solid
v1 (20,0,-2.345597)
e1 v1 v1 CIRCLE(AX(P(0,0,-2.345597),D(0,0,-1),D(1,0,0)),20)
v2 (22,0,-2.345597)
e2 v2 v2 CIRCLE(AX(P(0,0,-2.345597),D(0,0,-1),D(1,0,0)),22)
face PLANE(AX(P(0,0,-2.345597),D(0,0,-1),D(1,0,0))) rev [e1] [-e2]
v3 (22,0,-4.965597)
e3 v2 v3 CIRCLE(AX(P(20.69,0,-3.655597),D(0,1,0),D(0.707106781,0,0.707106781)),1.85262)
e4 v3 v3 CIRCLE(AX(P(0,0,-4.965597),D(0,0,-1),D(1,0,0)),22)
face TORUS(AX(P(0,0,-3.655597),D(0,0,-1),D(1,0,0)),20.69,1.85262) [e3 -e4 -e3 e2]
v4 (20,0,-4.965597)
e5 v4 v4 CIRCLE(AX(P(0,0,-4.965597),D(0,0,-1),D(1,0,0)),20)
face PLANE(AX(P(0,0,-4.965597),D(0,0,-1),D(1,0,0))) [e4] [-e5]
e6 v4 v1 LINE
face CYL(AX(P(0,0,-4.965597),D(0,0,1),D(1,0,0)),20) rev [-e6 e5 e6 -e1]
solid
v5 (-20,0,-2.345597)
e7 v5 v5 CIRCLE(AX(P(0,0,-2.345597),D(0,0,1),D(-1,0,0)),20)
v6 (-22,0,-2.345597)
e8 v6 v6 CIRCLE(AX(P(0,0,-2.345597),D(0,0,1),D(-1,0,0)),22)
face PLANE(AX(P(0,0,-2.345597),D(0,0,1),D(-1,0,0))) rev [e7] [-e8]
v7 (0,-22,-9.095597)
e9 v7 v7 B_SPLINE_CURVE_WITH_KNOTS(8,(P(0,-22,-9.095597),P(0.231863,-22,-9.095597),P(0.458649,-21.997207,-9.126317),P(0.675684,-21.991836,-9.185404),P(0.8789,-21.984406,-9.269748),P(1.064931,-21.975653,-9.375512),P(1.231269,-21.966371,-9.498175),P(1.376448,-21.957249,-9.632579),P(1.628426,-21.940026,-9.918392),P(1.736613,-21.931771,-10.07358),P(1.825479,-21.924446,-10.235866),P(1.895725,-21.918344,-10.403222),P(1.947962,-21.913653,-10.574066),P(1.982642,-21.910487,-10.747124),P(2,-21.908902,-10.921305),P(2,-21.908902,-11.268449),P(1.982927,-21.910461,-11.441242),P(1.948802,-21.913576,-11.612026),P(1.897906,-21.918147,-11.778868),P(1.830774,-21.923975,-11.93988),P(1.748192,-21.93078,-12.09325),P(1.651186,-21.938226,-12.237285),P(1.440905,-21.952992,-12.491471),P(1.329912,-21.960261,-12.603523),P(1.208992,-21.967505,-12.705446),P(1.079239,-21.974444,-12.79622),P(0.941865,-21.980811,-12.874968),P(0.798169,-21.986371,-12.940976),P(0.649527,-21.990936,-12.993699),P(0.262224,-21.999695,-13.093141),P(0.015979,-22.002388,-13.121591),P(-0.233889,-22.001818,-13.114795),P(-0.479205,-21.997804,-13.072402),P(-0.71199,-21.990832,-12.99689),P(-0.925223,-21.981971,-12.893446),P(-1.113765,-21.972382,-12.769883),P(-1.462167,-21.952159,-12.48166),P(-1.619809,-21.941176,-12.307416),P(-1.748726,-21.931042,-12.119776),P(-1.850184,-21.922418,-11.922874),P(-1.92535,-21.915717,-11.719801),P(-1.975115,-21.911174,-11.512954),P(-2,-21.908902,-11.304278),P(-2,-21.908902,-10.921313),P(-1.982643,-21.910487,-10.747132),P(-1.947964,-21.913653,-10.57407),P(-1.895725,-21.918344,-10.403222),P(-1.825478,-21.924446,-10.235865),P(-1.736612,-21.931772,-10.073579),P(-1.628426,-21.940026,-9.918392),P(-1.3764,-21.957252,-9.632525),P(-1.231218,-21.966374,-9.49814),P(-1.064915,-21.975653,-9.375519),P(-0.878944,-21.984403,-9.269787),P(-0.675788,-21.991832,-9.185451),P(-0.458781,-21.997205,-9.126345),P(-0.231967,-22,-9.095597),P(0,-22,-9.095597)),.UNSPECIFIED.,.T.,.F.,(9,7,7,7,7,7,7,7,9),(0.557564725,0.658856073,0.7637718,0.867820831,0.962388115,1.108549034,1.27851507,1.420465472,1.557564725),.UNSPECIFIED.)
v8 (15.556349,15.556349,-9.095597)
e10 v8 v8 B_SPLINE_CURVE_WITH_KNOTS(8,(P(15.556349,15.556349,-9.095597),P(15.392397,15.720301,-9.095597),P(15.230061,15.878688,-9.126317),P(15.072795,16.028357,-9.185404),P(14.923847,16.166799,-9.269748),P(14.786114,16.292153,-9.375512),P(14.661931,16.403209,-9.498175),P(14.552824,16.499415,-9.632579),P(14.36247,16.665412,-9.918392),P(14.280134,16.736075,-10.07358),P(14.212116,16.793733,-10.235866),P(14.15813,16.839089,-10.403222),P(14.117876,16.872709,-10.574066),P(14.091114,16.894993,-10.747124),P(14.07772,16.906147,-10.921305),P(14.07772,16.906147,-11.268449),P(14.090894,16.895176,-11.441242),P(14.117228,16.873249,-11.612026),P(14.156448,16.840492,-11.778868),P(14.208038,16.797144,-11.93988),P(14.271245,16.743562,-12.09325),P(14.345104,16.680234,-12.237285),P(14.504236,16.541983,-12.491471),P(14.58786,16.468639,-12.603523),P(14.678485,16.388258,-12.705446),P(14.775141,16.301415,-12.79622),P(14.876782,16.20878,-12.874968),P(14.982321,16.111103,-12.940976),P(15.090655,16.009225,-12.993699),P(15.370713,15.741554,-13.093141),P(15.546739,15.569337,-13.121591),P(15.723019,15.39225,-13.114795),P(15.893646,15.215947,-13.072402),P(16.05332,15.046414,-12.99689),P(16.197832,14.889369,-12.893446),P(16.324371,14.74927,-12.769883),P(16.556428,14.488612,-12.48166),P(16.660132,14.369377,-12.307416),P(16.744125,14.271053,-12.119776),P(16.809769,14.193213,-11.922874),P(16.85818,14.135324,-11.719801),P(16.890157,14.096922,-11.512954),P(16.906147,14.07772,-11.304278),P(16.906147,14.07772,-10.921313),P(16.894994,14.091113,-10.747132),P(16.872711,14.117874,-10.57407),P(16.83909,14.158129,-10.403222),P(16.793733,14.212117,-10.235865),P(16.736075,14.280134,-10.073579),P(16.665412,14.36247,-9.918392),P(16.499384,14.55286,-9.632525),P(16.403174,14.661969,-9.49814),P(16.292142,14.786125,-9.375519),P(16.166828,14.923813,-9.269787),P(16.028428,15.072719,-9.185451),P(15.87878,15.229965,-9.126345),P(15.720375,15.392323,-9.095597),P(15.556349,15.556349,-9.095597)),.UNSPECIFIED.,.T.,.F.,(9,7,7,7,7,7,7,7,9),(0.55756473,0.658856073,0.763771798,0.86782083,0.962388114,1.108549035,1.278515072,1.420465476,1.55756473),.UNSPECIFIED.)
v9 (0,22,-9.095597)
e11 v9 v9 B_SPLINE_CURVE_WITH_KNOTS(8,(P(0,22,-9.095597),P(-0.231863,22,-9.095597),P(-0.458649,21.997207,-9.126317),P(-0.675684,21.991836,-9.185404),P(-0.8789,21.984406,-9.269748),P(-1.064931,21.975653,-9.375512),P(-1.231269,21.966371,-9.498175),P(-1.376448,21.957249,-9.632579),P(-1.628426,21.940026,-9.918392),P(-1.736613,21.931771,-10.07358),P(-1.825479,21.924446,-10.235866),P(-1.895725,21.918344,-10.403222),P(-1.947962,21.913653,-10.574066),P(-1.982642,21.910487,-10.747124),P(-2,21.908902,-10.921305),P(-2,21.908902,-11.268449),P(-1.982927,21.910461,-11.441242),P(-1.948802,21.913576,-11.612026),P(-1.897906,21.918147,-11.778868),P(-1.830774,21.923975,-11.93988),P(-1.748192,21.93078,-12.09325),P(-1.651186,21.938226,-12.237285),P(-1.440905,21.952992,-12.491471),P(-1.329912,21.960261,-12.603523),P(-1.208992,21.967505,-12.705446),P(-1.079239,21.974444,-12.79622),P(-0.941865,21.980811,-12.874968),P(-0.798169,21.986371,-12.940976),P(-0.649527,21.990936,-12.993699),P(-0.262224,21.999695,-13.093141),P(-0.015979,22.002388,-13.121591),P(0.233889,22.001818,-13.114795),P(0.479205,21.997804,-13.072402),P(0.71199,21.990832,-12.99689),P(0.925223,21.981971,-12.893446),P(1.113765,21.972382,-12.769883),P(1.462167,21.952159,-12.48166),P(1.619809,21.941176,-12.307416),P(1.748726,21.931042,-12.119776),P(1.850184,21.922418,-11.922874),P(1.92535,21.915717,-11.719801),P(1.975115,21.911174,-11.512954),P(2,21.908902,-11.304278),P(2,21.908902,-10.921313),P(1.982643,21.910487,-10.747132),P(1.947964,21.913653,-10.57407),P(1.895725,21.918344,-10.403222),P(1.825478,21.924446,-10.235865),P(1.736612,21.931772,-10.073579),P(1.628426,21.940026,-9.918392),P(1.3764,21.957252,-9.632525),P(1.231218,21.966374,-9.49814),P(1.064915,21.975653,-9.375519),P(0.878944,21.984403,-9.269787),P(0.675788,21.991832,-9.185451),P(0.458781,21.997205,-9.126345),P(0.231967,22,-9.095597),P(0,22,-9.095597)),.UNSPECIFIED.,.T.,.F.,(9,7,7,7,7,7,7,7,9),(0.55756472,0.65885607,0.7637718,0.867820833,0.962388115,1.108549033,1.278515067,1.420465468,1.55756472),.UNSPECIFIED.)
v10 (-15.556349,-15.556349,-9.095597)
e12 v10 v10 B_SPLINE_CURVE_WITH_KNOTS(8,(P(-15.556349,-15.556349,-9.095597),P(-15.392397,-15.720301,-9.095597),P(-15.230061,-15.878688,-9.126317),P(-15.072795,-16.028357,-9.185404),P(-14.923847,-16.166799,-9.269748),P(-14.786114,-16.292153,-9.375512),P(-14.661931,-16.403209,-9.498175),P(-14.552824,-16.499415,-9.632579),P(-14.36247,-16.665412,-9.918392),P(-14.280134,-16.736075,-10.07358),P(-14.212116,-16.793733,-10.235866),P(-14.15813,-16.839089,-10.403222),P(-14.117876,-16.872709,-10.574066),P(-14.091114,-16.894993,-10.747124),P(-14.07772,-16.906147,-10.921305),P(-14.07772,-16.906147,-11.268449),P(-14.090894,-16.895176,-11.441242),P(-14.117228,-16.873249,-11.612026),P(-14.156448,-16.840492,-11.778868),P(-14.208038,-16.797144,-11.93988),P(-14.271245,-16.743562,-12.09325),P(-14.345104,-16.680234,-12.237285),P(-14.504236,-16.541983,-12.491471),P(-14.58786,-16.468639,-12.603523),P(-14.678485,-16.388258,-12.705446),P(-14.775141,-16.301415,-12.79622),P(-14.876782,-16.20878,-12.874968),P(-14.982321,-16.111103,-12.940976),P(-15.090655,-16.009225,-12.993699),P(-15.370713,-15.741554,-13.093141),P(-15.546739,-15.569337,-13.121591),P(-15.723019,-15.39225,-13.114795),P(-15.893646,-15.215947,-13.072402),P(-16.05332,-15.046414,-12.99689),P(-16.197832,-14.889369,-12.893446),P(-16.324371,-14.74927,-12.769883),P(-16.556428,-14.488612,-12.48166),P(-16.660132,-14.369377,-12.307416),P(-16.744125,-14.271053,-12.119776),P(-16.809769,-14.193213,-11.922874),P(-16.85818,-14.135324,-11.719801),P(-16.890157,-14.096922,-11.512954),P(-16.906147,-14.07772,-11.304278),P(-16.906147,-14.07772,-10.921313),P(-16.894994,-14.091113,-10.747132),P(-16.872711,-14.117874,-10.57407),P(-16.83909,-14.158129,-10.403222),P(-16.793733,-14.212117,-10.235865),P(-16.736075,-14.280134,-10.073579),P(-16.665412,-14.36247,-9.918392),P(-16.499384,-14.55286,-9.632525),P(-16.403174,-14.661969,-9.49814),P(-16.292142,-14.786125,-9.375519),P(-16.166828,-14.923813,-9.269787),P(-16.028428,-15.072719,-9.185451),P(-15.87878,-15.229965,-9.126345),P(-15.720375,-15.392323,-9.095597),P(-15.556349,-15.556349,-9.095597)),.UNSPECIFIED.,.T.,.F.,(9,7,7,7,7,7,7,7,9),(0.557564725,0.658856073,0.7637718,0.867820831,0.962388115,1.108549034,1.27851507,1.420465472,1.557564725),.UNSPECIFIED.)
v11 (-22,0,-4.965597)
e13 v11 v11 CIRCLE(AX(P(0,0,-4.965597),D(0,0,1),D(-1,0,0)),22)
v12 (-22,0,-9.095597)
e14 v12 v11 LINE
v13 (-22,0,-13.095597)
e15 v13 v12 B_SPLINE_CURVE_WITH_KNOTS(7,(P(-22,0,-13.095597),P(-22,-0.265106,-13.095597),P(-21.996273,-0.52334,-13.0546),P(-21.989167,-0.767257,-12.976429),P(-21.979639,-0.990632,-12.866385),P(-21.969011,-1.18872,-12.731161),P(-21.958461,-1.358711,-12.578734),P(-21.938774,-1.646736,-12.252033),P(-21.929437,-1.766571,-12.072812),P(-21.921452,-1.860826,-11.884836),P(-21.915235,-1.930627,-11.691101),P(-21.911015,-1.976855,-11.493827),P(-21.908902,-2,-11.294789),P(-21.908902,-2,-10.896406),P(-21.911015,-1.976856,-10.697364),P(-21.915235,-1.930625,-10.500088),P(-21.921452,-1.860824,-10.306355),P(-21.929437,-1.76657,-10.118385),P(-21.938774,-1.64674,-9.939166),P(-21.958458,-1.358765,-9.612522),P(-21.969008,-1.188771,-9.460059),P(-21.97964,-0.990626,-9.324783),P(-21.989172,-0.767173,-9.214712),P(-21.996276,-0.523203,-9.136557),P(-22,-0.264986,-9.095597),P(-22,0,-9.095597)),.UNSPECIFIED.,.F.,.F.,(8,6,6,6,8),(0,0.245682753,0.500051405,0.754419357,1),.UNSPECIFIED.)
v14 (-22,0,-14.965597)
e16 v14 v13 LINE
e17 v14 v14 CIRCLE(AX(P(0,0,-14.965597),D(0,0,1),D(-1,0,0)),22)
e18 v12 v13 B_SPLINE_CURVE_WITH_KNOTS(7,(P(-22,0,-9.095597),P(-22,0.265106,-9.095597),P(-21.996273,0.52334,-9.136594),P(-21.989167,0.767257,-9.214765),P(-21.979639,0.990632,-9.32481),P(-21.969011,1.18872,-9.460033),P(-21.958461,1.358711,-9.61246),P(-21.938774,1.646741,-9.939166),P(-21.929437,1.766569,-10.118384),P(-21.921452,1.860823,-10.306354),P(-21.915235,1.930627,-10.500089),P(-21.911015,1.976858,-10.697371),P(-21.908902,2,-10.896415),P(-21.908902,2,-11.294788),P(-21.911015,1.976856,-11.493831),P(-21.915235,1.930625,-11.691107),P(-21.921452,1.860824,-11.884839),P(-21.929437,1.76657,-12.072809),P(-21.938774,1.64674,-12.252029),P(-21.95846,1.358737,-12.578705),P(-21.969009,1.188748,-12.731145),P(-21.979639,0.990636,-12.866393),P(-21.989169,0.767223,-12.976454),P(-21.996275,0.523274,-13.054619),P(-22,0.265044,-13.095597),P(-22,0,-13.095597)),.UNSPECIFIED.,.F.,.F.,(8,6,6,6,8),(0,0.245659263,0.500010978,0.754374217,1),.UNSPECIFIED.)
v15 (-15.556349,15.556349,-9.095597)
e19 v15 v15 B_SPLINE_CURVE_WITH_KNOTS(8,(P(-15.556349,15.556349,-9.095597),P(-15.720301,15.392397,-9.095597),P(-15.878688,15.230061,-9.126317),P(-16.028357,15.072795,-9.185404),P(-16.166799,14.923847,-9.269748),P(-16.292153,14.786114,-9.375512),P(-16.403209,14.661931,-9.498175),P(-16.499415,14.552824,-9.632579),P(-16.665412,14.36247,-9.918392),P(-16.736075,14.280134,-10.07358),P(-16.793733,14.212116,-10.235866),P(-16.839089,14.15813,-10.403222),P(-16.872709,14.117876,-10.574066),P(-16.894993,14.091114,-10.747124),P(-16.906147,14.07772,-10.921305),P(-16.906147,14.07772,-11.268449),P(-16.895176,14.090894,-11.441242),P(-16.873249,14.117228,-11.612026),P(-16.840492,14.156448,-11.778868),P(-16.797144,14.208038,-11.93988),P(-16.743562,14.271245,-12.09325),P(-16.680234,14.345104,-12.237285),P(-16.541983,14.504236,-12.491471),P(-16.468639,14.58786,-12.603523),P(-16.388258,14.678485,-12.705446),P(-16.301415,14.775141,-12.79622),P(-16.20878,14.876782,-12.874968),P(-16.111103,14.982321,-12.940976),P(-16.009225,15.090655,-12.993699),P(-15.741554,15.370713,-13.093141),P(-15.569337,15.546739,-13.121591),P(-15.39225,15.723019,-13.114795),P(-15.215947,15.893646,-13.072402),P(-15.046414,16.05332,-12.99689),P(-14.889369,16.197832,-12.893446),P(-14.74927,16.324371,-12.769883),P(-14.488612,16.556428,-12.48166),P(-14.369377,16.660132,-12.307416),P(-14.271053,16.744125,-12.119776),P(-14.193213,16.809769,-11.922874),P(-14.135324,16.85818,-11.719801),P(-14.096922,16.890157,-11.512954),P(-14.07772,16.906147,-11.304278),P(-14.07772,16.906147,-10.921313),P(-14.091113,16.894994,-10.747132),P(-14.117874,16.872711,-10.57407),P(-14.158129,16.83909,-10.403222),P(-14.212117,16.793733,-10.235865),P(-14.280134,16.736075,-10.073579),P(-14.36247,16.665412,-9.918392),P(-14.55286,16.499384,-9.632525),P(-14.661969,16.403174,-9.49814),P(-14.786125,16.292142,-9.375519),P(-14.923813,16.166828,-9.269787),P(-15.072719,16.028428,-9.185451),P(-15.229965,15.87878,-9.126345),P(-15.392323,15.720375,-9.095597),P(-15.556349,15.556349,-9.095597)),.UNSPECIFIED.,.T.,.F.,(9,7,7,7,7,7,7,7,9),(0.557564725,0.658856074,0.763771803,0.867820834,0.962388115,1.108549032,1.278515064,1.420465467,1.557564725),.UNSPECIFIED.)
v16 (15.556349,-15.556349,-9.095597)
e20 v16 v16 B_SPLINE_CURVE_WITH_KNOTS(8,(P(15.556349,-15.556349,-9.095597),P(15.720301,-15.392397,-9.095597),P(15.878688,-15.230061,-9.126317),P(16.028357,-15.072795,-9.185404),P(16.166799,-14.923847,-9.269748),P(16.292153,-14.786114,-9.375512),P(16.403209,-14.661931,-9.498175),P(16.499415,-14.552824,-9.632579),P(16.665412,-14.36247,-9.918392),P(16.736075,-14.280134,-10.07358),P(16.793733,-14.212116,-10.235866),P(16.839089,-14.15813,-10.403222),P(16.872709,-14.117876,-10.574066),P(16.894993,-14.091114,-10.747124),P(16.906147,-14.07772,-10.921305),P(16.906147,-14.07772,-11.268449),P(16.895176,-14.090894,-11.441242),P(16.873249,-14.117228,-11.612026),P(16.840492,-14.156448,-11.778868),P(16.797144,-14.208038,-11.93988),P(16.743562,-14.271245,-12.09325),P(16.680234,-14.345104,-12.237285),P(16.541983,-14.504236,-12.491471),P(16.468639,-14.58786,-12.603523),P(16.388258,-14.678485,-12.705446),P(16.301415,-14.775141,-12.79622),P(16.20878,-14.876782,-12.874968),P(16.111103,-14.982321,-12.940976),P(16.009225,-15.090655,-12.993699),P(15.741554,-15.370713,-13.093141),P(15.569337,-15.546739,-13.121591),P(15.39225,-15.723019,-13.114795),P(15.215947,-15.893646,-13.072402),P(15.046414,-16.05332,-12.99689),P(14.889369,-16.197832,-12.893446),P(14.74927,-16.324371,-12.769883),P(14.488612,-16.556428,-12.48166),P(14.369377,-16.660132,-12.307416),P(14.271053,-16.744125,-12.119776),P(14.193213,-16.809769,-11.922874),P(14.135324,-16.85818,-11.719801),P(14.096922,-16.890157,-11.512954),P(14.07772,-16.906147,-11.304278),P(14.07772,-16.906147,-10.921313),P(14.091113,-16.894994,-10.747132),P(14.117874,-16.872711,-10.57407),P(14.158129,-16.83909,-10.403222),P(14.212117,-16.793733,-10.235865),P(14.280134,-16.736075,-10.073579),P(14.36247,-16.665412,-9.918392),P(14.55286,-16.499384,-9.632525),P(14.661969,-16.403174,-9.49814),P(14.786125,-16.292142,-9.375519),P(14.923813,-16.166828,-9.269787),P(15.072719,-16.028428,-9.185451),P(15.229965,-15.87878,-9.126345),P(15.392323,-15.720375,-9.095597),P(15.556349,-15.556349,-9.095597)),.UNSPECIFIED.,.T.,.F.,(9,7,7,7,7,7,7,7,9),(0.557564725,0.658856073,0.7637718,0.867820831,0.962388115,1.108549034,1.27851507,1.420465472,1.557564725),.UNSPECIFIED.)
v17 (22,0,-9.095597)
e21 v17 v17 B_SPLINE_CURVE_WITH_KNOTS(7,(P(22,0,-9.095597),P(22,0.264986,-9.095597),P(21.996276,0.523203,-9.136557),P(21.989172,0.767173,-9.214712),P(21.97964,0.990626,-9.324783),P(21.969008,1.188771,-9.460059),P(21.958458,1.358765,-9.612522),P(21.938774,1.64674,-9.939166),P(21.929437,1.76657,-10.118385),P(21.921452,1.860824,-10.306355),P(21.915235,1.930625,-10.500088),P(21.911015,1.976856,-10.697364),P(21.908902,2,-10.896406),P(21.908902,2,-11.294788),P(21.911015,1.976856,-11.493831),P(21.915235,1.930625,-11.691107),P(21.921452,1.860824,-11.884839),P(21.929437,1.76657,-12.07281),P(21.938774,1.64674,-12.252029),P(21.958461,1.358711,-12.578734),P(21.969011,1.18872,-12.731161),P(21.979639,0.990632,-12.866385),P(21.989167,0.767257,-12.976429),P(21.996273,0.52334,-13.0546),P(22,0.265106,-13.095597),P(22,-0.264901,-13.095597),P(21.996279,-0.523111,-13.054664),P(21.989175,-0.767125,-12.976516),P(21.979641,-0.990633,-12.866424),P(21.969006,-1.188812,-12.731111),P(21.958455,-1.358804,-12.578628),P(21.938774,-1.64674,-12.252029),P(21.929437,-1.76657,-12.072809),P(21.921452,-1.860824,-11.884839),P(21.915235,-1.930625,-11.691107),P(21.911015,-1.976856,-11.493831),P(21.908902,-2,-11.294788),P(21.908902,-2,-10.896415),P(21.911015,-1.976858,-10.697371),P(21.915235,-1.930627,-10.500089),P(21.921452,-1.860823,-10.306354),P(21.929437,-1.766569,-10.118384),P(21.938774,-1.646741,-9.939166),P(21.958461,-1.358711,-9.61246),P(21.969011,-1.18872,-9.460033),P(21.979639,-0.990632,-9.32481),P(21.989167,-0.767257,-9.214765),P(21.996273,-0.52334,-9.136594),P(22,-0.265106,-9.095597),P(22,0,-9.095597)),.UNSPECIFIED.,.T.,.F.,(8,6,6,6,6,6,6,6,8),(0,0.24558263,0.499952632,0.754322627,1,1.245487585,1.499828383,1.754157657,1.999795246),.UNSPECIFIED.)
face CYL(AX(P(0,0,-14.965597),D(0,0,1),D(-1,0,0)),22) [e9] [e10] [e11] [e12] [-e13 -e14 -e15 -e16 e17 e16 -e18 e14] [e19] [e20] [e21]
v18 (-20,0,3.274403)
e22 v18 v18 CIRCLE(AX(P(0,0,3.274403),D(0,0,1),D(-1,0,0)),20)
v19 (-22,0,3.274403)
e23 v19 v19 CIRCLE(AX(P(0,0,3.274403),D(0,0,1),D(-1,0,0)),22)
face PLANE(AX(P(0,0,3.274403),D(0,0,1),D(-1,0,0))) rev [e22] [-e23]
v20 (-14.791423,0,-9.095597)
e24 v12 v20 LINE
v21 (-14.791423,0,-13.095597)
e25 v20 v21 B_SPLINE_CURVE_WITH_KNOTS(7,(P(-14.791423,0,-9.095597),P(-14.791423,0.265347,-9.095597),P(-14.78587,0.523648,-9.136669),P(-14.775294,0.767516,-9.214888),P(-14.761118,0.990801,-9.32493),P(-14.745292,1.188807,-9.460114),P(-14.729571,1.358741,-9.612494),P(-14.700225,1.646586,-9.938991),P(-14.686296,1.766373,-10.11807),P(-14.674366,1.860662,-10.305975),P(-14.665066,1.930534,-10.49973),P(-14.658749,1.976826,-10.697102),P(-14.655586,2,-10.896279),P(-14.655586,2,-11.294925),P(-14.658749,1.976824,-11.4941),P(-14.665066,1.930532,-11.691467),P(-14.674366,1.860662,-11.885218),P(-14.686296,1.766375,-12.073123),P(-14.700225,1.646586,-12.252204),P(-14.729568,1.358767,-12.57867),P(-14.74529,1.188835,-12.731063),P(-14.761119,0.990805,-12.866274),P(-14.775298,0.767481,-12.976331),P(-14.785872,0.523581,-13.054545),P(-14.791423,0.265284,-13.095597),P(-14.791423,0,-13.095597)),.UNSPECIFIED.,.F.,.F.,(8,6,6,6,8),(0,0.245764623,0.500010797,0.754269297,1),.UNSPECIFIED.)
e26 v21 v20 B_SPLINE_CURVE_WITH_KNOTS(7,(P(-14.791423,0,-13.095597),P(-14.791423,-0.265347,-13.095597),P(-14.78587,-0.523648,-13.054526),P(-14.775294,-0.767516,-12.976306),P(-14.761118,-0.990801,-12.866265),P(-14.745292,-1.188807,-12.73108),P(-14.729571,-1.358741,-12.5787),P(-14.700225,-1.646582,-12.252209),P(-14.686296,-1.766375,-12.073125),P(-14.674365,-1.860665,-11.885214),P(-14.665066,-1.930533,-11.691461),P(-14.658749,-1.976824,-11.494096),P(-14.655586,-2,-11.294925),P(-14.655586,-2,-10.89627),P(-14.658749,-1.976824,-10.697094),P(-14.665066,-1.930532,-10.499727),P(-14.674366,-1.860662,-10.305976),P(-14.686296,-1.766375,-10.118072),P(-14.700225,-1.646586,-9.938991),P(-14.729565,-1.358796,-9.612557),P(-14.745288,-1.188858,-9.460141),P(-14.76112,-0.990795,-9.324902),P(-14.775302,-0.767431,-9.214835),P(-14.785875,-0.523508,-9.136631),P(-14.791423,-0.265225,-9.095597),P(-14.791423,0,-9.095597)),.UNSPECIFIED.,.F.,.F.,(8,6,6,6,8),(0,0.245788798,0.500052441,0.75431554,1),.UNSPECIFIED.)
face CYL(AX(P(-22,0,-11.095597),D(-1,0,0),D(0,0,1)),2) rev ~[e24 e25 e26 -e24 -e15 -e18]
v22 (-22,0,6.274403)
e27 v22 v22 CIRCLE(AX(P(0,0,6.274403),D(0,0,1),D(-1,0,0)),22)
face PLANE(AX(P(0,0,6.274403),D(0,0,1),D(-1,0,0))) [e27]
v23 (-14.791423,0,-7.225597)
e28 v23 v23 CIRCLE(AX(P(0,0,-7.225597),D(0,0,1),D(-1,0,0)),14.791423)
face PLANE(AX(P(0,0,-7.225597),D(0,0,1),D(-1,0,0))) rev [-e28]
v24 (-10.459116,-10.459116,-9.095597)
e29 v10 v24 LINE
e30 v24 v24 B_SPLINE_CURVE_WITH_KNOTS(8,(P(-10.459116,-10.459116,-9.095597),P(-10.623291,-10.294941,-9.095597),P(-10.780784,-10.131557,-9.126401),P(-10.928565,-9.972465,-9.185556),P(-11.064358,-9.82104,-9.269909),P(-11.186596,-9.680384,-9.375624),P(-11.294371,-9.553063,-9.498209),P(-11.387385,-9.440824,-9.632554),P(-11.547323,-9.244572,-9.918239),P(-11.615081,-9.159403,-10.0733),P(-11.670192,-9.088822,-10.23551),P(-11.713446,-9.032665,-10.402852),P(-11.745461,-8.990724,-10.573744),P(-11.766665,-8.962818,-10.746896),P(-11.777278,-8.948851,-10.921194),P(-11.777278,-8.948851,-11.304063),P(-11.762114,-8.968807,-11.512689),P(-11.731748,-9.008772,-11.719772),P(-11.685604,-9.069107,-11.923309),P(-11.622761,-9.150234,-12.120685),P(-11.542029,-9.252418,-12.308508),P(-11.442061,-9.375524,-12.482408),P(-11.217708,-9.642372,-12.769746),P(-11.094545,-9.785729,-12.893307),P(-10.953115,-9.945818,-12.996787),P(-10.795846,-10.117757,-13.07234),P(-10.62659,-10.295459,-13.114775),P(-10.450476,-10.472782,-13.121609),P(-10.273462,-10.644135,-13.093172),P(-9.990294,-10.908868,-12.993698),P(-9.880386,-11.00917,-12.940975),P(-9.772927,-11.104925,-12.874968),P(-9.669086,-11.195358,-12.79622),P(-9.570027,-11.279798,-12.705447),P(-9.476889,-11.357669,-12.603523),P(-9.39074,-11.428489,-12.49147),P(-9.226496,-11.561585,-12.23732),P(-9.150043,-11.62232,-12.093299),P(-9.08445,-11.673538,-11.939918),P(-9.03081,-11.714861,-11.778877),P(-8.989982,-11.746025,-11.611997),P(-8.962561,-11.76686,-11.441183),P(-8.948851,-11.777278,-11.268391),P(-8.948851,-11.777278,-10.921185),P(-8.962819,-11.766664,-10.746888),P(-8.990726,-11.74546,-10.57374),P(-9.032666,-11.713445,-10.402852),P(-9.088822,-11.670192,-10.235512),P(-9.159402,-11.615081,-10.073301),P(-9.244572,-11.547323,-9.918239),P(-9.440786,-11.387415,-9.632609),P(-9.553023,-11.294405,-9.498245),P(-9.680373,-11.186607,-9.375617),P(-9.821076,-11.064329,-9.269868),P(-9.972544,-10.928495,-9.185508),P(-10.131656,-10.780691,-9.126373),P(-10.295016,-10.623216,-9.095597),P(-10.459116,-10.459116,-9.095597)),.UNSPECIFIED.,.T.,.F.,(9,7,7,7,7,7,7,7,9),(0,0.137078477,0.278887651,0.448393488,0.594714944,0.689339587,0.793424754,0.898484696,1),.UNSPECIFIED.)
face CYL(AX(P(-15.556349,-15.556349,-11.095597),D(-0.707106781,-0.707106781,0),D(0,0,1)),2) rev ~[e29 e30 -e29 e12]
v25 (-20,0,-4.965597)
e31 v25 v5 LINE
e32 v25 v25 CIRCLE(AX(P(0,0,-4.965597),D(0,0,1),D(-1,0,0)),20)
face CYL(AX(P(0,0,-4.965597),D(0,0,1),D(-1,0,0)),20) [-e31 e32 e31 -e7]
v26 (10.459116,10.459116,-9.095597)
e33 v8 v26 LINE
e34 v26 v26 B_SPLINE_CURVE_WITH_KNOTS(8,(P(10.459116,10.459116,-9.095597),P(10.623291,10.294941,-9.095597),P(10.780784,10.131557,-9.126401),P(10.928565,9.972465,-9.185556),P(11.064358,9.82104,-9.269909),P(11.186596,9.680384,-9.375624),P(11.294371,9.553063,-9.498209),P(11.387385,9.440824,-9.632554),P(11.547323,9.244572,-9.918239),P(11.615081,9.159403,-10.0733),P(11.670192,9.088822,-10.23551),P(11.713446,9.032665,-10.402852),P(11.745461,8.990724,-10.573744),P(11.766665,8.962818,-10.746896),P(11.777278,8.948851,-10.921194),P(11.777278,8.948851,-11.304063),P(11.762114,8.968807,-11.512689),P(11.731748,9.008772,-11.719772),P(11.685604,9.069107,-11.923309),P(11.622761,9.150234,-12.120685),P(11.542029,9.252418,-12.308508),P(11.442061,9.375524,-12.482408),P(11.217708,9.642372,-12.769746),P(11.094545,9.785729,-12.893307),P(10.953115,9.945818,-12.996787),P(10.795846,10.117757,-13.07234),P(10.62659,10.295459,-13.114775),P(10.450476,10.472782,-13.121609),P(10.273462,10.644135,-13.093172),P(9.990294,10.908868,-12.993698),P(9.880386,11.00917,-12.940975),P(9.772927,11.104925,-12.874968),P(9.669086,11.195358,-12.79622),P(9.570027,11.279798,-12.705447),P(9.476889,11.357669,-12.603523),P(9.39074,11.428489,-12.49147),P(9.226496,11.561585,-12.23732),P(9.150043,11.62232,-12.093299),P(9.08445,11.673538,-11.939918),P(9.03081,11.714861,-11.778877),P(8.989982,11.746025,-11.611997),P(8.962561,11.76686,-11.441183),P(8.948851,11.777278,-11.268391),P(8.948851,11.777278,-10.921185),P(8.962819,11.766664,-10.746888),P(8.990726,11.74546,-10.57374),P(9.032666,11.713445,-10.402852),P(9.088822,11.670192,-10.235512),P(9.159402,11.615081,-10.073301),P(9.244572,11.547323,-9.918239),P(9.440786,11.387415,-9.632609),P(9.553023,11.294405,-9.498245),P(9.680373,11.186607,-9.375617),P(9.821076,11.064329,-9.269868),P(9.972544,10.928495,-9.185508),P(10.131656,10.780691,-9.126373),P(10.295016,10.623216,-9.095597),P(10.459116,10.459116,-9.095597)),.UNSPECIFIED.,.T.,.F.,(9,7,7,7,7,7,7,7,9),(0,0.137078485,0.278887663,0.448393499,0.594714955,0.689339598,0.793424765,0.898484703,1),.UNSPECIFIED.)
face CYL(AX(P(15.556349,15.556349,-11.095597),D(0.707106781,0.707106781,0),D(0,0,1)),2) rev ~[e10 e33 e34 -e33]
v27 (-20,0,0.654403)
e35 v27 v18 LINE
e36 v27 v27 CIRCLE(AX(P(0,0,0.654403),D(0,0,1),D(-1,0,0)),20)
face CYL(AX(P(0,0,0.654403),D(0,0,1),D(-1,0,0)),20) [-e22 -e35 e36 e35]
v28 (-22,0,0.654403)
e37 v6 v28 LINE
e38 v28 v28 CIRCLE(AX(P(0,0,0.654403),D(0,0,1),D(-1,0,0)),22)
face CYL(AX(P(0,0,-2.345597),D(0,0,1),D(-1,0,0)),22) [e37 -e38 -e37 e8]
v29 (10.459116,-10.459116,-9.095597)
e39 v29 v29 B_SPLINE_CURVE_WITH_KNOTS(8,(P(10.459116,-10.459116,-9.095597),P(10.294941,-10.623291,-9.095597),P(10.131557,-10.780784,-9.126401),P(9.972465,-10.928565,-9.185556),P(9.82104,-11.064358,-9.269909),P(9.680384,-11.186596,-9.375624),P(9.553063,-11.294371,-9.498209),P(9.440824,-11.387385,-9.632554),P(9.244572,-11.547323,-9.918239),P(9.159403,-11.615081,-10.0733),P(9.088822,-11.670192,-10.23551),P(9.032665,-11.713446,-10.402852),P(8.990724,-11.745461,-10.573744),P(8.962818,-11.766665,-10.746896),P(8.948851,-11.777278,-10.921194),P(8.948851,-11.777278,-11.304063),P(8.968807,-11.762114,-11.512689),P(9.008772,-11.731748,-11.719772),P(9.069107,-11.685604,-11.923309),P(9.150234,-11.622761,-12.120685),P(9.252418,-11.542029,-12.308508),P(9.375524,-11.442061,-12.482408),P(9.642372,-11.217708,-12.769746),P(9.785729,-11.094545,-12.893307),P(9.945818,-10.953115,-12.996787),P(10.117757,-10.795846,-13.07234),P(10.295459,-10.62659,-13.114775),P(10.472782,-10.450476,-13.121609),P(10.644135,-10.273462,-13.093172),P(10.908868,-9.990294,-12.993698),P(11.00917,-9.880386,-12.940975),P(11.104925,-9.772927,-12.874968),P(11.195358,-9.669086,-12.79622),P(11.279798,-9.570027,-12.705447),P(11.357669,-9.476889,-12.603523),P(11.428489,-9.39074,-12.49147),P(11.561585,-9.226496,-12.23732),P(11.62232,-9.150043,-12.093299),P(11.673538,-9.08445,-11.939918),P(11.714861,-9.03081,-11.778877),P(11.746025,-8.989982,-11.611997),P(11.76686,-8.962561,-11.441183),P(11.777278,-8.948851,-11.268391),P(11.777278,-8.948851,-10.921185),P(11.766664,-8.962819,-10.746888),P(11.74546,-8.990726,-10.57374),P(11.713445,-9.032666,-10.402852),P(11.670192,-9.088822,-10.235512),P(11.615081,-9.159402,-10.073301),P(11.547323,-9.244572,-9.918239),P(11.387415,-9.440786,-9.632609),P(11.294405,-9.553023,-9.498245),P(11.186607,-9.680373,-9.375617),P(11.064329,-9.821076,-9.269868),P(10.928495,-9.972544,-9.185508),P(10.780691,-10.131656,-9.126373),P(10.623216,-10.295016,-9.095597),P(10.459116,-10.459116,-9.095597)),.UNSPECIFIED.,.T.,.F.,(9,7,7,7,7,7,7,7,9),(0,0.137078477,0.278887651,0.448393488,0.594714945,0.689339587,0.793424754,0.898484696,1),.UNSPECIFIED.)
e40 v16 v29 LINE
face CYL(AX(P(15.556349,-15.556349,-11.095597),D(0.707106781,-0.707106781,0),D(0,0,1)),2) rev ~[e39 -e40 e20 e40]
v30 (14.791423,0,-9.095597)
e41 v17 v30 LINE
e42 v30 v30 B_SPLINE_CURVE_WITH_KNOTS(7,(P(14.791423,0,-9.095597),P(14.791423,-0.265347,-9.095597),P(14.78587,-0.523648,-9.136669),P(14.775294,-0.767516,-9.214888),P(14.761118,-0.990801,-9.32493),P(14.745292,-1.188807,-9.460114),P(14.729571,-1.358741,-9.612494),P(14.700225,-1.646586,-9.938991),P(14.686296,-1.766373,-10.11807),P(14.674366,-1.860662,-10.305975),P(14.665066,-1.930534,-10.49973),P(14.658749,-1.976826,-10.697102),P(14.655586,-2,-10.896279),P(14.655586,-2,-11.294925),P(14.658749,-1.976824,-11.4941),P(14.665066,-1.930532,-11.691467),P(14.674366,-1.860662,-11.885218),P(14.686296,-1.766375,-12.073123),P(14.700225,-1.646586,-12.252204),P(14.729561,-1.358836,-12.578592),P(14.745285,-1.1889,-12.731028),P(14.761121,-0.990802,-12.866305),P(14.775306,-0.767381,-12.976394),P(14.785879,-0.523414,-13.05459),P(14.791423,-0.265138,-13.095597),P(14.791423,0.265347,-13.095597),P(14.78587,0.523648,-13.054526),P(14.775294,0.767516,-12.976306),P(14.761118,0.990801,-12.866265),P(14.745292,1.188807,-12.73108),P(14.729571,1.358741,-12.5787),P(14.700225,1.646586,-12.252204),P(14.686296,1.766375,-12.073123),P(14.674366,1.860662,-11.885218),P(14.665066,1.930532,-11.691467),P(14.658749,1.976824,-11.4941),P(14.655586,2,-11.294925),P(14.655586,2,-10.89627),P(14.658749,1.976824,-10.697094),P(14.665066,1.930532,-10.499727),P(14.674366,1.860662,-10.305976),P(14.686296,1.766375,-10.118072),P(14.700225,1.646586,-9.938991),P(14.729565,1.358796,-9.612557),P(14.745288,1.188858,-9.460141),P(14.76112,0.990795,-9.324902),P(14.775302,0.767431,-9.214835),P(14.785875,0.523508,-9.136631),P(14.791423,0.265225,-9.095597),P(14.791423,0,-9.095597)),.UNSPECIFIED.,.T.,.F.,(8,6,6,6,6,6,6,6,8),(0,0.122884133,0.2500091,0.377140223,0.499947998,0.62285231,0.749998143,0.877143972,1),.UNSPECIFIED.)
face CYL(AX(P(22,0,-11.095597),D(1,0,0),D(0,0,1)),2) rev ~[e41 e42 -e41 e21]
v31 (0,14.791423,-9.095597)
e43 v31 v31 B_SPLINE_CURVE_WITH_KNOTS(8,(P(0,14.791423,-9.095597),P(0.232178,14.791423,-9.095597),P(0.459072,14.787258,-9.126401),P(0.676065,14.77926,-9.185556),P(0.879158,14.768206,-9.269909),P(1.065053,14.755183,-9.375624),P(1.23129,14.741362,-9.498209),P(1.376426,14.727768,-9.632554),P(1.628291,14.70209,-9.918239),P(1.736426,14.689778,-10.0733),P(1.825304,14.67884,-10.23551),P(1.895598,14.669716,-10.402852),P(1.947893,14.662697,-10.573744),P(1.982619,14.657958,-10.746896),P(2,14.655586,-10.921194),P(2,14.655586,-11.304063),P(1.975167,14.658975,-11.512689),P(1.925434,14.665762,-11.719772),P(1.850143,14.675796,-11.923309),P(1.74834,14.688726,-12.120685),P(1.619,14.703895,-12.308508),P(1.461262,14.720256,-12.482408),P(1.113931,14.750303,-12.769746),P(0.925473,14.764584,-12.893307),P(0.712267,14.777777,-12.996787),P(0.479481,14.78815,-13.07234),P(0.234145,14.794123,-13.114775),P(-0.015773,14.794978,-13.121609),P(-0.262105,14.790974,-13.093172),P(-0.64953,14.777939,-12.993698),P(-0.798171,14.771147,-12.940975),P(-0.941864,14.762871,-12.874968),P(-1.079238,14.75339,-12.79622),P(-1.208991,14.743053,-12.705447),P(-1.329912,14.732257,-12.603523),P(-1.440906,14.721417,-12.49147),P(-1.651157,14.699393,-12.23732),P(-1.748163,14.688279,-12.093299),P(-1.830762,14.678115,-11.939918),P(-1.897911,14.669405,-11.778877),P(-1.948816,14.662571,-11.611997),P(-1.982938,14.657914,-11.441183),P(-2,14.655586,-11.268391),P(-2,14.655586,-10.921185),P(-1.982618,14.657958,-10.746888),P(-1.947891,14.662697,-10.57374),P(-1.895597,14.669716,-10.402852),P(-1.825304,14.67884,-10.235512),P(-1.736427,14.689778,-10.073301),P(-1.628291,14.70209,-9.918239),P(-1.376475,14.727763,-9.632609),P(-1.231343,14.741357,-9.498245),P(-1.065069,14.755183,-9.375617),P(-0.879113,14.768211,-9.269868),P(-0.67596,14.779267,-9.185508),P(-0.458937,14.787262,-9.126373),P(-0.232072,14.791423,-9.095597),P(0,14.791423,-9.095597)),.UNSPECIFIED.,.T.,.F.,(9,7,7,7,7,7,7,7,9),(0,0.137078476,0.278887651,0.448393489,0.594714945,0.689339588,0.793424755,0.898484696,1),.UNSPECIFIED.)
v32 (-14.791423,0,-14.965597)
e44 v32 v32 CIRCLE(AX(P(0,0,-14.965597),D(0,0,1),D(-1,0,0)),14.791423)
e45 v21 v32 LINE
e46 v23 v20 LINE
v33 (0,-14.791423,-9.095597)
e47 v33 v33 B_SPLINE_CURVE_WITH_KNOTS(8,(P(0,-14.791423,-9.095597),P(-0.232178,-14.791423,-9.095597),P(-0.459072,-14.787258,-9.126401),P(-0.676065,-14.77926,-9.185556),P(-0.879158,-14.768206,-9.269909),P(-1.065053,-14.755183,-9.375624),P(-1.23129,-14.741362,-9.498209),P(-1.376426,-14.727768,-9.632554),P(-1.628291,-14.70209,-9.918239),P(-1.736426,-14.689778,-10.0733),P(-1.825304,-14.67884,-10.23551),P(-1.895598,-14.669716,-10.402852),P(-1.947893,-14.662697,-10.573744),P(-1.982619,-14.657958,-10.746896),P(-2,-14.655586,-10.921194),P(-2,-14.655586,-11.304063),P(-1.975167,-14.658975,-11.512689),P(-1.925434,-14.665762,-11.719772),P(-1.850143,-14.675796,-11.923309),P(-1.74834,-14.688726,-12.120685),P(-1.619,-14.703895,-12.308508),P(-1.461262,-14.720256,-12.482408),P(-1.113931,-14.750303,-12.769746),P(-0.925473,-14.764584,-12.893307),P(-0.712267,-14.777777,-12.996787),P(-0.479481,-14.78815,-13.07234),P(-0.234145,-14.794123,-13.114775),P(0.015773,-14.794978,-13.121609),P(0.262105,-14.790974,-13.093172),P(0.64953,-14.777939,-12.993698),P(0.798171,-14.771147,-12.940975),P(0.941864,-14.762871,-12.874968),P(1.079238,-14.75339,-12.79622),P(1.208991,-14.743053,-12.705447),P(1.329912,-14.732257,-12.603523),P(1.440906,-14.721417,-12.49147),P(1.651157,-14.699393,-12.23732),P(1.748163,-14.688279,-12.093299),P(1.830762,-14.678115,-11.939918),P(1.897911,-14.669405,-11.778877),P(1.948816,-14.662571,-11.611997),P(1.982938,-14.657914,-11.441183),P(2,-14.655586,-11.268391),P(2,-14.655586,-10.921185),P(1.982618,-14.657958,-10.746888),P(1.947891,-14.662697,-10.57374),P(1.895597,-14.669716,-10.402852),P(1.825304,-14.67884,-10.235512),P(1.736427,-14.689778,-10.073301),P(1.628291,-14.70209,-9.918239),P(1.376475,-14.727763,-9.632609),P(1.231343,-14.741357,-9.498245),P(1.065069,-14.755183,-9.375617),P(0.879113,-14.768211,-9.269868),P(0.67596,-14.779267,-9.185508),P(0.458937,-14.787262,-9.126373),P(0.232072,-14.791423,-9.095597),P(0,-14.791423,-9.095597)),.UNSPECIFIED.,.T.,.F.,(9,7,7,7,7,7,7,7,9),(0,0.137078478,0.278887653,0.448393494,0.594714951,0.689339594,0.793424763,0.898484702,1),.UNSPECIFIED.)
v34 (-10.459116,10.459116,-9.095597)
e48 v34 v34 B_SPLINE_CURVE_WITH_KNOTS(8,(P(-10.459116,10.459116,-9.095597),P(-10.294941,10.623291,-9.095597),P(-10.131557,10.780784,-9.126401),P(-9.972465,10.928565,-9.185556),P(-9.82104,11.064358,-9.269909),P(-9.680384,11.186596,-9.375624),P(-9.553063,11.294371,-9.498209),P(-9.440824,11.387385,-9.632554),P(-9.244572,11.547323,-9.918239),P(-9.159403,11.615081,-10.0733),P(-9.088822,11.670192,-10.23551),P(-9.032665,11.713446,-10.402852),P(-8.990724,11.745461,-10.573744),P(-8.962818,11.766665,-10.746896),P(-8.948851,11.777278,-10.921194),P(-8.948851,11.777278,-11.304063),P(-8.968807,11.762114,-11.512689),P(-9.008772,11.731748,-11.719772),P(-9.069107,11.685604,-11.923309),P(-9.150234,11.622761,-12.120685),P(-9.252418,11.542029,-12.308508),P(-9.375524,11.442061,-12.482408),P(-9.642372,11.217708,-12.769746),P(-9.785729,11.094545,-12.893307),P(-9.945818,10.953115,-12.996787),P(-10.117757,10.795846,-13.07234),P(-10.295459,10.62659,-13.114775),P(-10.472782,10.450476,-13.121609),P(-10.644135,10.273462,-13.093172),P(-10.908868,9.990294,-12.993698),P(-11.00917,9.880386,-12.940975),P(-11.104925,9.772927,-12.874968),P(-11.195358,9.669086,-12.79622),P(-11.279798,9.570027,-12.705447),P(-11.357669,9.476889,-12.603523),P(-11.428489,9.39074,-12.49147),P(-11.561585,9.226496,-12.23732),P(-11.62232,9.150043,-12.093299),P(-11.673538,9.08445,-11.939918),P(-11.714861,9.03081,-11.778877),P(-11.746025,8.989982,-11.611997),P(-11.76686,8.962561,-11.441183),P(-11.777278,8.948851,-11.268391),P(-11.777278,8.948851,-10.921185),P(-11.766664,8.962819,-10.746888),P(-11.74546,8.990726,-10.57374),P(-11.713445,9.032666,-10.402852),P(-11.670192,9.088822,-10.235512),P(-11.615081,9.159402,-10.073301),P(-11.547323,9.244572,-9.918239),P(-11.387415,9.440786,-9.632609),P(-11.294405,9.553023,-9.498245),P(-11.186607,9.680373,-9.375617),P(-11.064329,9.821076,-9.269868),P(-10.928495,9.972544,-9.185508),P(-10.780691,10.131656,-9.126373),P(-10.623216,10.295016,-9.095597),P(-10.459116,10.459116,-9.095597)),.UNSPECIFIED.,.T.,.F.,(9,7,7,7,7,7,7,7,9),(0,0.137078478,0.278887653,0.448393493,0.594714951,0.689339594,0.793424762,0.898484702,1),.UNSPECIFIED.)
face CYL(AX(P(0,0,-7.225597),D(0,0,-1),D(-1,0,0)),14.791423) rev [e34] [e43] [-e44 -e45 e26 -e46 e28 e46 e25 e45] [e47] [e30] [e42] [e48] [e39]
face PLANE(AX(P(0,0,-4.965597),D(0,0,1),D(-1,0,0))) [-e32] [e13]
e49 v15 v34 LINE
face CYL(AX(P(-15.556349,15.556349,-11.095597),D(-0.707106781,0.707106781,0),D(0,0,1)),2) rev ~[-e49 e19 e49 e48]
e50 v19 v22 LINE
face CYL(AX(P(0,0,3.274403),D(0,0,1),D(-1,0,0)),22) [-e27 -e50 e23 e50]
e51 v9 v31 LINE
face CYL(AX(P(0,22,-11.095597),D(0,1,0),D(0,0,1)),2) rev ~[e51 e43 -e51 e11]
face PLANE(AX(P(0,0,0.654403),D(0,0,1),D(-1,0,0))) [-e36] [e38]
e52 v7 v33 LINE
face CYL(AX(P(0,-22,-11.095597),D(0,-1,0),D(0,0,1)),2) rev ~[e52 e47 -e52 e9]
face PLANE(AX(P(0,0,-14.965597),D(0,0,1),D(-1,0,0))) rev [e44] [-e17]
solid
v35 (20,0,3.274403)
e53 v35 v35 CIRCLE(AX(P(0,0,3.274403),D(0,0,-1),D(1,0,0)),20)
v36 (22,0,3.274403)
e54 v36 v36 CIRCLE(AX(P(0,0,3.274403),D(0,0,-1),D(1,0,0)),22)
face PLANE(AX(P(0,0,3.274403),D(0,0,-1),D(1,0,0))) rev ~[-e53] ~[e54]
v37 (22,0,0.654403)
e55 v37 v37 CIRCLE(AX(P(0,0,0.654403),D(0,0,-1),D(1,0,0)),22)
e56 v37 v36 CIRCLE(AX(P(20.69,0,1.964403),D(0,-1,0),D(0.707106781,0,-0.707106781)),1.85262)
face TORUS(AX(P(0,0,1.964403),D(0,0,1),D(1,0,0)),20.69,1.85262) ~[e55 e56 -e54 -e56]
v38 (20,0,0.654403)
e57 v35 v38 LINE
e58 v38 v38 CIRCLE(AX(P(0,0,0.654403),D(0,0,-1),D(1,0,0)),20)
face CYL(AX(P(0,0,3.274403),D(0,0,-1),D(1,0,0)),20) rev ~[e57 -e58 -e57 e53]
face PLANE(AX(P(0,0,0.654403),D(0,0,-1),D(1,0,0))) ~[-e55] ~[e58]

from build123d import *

# Parameters (mm, degrees)
ESBO_O3_R             = 2
CORTE_EXTRUS_O1_DEPTH = 8
PADR_OCIRCULAR1_COUNT = 8


with BuildPart() as part:
    # Esboço2 → Revolução1 (revolve)
    with BuildSketch(Plane(origin=(0, 0, 0), x_dir=(1, 0, 0), z_dir=(0, 1, 0))):
        Polygon((-14.791423404, 14.965597198), (-22, 14.965597198), (-22, 4.965597198), (-20, 4.965597198), (-20, 2.345597198), (-22, 2.345597198), (-22, -0.654402802), (-20, -0.654402802), (-20, -3.274402802), (-22, -3.274402802), (-22, -6.274402802), (0, -6.274402802), (0, -0.654402802), (0, 7.225597198), (-14.791423404, 7.225597198), align=None)
    revolve(axis=Axis((0, 0, -1026.34324457), (0, 0, 1)))

    # Esboço3 → Corte-extrusão1 (cut)
    with BuildSketch(Plane(origin=(0, 22, 0), x_dir=(1, 0, 0), z_dir=(0, 1, 0))):
        with Locations((0, 11.095597198)):
            Circle(ESBO_O3_R)
    corte_extrus_o1 = extrude(amount=-CORTE_EXTRUS_O1_DEPTH, mode=Mode.SUBTRACT)

    # PadrãoCircular1: Corte-extrusão1 ×8 about axis
    padr_ocircular1_axis = Axis((0, 0, -14.965597198), (0, 0, -1))
    for i in range(1, PADR_OCIRCULAR1_COUNT):
        add(corte_extrus_o1.rotate(padr_ocircular1_axis, i * 360 / PADR_OCIRCULAR1_COUNT), mode=Mode.SUBTRACT)


with BuildPart() as body_2:
    # Esboço6 → Revolução3 (revolve)
    with BuildSketch(Plane(origin=(0, 0, 0), x_dir=(1, 0, 0), z_dir=(0, 1, 0))):
        with BuildLine():
            Line((22, 4.965597198), (20, 4.965597198))
            Line((20, 4.965597198), (20, 2.345597198))
            Line((20, 2.345597198), (22, 2.345597198))
            ThreePointArc((22, 2.345597198), (22.542619767, 3.655597198), (22, 4.965597198))
        make_face()
        with BuildLine():
            Line((20, -3.274402802), (20, -0.654402802))
            Line((20, -0.654402802), (22, -0.654402802))
            ThreePointArc((22, -0.654402802), (22.542619767, -1.964402802), (22, -3.274402802))
            Line((22, -3.274402802), (20, -3.274402802))
        make_face()
    revolve(axis=Axis((0, 0, 0), (0, 0, -1)))


solid = Compound([part.part, body_2.part])
